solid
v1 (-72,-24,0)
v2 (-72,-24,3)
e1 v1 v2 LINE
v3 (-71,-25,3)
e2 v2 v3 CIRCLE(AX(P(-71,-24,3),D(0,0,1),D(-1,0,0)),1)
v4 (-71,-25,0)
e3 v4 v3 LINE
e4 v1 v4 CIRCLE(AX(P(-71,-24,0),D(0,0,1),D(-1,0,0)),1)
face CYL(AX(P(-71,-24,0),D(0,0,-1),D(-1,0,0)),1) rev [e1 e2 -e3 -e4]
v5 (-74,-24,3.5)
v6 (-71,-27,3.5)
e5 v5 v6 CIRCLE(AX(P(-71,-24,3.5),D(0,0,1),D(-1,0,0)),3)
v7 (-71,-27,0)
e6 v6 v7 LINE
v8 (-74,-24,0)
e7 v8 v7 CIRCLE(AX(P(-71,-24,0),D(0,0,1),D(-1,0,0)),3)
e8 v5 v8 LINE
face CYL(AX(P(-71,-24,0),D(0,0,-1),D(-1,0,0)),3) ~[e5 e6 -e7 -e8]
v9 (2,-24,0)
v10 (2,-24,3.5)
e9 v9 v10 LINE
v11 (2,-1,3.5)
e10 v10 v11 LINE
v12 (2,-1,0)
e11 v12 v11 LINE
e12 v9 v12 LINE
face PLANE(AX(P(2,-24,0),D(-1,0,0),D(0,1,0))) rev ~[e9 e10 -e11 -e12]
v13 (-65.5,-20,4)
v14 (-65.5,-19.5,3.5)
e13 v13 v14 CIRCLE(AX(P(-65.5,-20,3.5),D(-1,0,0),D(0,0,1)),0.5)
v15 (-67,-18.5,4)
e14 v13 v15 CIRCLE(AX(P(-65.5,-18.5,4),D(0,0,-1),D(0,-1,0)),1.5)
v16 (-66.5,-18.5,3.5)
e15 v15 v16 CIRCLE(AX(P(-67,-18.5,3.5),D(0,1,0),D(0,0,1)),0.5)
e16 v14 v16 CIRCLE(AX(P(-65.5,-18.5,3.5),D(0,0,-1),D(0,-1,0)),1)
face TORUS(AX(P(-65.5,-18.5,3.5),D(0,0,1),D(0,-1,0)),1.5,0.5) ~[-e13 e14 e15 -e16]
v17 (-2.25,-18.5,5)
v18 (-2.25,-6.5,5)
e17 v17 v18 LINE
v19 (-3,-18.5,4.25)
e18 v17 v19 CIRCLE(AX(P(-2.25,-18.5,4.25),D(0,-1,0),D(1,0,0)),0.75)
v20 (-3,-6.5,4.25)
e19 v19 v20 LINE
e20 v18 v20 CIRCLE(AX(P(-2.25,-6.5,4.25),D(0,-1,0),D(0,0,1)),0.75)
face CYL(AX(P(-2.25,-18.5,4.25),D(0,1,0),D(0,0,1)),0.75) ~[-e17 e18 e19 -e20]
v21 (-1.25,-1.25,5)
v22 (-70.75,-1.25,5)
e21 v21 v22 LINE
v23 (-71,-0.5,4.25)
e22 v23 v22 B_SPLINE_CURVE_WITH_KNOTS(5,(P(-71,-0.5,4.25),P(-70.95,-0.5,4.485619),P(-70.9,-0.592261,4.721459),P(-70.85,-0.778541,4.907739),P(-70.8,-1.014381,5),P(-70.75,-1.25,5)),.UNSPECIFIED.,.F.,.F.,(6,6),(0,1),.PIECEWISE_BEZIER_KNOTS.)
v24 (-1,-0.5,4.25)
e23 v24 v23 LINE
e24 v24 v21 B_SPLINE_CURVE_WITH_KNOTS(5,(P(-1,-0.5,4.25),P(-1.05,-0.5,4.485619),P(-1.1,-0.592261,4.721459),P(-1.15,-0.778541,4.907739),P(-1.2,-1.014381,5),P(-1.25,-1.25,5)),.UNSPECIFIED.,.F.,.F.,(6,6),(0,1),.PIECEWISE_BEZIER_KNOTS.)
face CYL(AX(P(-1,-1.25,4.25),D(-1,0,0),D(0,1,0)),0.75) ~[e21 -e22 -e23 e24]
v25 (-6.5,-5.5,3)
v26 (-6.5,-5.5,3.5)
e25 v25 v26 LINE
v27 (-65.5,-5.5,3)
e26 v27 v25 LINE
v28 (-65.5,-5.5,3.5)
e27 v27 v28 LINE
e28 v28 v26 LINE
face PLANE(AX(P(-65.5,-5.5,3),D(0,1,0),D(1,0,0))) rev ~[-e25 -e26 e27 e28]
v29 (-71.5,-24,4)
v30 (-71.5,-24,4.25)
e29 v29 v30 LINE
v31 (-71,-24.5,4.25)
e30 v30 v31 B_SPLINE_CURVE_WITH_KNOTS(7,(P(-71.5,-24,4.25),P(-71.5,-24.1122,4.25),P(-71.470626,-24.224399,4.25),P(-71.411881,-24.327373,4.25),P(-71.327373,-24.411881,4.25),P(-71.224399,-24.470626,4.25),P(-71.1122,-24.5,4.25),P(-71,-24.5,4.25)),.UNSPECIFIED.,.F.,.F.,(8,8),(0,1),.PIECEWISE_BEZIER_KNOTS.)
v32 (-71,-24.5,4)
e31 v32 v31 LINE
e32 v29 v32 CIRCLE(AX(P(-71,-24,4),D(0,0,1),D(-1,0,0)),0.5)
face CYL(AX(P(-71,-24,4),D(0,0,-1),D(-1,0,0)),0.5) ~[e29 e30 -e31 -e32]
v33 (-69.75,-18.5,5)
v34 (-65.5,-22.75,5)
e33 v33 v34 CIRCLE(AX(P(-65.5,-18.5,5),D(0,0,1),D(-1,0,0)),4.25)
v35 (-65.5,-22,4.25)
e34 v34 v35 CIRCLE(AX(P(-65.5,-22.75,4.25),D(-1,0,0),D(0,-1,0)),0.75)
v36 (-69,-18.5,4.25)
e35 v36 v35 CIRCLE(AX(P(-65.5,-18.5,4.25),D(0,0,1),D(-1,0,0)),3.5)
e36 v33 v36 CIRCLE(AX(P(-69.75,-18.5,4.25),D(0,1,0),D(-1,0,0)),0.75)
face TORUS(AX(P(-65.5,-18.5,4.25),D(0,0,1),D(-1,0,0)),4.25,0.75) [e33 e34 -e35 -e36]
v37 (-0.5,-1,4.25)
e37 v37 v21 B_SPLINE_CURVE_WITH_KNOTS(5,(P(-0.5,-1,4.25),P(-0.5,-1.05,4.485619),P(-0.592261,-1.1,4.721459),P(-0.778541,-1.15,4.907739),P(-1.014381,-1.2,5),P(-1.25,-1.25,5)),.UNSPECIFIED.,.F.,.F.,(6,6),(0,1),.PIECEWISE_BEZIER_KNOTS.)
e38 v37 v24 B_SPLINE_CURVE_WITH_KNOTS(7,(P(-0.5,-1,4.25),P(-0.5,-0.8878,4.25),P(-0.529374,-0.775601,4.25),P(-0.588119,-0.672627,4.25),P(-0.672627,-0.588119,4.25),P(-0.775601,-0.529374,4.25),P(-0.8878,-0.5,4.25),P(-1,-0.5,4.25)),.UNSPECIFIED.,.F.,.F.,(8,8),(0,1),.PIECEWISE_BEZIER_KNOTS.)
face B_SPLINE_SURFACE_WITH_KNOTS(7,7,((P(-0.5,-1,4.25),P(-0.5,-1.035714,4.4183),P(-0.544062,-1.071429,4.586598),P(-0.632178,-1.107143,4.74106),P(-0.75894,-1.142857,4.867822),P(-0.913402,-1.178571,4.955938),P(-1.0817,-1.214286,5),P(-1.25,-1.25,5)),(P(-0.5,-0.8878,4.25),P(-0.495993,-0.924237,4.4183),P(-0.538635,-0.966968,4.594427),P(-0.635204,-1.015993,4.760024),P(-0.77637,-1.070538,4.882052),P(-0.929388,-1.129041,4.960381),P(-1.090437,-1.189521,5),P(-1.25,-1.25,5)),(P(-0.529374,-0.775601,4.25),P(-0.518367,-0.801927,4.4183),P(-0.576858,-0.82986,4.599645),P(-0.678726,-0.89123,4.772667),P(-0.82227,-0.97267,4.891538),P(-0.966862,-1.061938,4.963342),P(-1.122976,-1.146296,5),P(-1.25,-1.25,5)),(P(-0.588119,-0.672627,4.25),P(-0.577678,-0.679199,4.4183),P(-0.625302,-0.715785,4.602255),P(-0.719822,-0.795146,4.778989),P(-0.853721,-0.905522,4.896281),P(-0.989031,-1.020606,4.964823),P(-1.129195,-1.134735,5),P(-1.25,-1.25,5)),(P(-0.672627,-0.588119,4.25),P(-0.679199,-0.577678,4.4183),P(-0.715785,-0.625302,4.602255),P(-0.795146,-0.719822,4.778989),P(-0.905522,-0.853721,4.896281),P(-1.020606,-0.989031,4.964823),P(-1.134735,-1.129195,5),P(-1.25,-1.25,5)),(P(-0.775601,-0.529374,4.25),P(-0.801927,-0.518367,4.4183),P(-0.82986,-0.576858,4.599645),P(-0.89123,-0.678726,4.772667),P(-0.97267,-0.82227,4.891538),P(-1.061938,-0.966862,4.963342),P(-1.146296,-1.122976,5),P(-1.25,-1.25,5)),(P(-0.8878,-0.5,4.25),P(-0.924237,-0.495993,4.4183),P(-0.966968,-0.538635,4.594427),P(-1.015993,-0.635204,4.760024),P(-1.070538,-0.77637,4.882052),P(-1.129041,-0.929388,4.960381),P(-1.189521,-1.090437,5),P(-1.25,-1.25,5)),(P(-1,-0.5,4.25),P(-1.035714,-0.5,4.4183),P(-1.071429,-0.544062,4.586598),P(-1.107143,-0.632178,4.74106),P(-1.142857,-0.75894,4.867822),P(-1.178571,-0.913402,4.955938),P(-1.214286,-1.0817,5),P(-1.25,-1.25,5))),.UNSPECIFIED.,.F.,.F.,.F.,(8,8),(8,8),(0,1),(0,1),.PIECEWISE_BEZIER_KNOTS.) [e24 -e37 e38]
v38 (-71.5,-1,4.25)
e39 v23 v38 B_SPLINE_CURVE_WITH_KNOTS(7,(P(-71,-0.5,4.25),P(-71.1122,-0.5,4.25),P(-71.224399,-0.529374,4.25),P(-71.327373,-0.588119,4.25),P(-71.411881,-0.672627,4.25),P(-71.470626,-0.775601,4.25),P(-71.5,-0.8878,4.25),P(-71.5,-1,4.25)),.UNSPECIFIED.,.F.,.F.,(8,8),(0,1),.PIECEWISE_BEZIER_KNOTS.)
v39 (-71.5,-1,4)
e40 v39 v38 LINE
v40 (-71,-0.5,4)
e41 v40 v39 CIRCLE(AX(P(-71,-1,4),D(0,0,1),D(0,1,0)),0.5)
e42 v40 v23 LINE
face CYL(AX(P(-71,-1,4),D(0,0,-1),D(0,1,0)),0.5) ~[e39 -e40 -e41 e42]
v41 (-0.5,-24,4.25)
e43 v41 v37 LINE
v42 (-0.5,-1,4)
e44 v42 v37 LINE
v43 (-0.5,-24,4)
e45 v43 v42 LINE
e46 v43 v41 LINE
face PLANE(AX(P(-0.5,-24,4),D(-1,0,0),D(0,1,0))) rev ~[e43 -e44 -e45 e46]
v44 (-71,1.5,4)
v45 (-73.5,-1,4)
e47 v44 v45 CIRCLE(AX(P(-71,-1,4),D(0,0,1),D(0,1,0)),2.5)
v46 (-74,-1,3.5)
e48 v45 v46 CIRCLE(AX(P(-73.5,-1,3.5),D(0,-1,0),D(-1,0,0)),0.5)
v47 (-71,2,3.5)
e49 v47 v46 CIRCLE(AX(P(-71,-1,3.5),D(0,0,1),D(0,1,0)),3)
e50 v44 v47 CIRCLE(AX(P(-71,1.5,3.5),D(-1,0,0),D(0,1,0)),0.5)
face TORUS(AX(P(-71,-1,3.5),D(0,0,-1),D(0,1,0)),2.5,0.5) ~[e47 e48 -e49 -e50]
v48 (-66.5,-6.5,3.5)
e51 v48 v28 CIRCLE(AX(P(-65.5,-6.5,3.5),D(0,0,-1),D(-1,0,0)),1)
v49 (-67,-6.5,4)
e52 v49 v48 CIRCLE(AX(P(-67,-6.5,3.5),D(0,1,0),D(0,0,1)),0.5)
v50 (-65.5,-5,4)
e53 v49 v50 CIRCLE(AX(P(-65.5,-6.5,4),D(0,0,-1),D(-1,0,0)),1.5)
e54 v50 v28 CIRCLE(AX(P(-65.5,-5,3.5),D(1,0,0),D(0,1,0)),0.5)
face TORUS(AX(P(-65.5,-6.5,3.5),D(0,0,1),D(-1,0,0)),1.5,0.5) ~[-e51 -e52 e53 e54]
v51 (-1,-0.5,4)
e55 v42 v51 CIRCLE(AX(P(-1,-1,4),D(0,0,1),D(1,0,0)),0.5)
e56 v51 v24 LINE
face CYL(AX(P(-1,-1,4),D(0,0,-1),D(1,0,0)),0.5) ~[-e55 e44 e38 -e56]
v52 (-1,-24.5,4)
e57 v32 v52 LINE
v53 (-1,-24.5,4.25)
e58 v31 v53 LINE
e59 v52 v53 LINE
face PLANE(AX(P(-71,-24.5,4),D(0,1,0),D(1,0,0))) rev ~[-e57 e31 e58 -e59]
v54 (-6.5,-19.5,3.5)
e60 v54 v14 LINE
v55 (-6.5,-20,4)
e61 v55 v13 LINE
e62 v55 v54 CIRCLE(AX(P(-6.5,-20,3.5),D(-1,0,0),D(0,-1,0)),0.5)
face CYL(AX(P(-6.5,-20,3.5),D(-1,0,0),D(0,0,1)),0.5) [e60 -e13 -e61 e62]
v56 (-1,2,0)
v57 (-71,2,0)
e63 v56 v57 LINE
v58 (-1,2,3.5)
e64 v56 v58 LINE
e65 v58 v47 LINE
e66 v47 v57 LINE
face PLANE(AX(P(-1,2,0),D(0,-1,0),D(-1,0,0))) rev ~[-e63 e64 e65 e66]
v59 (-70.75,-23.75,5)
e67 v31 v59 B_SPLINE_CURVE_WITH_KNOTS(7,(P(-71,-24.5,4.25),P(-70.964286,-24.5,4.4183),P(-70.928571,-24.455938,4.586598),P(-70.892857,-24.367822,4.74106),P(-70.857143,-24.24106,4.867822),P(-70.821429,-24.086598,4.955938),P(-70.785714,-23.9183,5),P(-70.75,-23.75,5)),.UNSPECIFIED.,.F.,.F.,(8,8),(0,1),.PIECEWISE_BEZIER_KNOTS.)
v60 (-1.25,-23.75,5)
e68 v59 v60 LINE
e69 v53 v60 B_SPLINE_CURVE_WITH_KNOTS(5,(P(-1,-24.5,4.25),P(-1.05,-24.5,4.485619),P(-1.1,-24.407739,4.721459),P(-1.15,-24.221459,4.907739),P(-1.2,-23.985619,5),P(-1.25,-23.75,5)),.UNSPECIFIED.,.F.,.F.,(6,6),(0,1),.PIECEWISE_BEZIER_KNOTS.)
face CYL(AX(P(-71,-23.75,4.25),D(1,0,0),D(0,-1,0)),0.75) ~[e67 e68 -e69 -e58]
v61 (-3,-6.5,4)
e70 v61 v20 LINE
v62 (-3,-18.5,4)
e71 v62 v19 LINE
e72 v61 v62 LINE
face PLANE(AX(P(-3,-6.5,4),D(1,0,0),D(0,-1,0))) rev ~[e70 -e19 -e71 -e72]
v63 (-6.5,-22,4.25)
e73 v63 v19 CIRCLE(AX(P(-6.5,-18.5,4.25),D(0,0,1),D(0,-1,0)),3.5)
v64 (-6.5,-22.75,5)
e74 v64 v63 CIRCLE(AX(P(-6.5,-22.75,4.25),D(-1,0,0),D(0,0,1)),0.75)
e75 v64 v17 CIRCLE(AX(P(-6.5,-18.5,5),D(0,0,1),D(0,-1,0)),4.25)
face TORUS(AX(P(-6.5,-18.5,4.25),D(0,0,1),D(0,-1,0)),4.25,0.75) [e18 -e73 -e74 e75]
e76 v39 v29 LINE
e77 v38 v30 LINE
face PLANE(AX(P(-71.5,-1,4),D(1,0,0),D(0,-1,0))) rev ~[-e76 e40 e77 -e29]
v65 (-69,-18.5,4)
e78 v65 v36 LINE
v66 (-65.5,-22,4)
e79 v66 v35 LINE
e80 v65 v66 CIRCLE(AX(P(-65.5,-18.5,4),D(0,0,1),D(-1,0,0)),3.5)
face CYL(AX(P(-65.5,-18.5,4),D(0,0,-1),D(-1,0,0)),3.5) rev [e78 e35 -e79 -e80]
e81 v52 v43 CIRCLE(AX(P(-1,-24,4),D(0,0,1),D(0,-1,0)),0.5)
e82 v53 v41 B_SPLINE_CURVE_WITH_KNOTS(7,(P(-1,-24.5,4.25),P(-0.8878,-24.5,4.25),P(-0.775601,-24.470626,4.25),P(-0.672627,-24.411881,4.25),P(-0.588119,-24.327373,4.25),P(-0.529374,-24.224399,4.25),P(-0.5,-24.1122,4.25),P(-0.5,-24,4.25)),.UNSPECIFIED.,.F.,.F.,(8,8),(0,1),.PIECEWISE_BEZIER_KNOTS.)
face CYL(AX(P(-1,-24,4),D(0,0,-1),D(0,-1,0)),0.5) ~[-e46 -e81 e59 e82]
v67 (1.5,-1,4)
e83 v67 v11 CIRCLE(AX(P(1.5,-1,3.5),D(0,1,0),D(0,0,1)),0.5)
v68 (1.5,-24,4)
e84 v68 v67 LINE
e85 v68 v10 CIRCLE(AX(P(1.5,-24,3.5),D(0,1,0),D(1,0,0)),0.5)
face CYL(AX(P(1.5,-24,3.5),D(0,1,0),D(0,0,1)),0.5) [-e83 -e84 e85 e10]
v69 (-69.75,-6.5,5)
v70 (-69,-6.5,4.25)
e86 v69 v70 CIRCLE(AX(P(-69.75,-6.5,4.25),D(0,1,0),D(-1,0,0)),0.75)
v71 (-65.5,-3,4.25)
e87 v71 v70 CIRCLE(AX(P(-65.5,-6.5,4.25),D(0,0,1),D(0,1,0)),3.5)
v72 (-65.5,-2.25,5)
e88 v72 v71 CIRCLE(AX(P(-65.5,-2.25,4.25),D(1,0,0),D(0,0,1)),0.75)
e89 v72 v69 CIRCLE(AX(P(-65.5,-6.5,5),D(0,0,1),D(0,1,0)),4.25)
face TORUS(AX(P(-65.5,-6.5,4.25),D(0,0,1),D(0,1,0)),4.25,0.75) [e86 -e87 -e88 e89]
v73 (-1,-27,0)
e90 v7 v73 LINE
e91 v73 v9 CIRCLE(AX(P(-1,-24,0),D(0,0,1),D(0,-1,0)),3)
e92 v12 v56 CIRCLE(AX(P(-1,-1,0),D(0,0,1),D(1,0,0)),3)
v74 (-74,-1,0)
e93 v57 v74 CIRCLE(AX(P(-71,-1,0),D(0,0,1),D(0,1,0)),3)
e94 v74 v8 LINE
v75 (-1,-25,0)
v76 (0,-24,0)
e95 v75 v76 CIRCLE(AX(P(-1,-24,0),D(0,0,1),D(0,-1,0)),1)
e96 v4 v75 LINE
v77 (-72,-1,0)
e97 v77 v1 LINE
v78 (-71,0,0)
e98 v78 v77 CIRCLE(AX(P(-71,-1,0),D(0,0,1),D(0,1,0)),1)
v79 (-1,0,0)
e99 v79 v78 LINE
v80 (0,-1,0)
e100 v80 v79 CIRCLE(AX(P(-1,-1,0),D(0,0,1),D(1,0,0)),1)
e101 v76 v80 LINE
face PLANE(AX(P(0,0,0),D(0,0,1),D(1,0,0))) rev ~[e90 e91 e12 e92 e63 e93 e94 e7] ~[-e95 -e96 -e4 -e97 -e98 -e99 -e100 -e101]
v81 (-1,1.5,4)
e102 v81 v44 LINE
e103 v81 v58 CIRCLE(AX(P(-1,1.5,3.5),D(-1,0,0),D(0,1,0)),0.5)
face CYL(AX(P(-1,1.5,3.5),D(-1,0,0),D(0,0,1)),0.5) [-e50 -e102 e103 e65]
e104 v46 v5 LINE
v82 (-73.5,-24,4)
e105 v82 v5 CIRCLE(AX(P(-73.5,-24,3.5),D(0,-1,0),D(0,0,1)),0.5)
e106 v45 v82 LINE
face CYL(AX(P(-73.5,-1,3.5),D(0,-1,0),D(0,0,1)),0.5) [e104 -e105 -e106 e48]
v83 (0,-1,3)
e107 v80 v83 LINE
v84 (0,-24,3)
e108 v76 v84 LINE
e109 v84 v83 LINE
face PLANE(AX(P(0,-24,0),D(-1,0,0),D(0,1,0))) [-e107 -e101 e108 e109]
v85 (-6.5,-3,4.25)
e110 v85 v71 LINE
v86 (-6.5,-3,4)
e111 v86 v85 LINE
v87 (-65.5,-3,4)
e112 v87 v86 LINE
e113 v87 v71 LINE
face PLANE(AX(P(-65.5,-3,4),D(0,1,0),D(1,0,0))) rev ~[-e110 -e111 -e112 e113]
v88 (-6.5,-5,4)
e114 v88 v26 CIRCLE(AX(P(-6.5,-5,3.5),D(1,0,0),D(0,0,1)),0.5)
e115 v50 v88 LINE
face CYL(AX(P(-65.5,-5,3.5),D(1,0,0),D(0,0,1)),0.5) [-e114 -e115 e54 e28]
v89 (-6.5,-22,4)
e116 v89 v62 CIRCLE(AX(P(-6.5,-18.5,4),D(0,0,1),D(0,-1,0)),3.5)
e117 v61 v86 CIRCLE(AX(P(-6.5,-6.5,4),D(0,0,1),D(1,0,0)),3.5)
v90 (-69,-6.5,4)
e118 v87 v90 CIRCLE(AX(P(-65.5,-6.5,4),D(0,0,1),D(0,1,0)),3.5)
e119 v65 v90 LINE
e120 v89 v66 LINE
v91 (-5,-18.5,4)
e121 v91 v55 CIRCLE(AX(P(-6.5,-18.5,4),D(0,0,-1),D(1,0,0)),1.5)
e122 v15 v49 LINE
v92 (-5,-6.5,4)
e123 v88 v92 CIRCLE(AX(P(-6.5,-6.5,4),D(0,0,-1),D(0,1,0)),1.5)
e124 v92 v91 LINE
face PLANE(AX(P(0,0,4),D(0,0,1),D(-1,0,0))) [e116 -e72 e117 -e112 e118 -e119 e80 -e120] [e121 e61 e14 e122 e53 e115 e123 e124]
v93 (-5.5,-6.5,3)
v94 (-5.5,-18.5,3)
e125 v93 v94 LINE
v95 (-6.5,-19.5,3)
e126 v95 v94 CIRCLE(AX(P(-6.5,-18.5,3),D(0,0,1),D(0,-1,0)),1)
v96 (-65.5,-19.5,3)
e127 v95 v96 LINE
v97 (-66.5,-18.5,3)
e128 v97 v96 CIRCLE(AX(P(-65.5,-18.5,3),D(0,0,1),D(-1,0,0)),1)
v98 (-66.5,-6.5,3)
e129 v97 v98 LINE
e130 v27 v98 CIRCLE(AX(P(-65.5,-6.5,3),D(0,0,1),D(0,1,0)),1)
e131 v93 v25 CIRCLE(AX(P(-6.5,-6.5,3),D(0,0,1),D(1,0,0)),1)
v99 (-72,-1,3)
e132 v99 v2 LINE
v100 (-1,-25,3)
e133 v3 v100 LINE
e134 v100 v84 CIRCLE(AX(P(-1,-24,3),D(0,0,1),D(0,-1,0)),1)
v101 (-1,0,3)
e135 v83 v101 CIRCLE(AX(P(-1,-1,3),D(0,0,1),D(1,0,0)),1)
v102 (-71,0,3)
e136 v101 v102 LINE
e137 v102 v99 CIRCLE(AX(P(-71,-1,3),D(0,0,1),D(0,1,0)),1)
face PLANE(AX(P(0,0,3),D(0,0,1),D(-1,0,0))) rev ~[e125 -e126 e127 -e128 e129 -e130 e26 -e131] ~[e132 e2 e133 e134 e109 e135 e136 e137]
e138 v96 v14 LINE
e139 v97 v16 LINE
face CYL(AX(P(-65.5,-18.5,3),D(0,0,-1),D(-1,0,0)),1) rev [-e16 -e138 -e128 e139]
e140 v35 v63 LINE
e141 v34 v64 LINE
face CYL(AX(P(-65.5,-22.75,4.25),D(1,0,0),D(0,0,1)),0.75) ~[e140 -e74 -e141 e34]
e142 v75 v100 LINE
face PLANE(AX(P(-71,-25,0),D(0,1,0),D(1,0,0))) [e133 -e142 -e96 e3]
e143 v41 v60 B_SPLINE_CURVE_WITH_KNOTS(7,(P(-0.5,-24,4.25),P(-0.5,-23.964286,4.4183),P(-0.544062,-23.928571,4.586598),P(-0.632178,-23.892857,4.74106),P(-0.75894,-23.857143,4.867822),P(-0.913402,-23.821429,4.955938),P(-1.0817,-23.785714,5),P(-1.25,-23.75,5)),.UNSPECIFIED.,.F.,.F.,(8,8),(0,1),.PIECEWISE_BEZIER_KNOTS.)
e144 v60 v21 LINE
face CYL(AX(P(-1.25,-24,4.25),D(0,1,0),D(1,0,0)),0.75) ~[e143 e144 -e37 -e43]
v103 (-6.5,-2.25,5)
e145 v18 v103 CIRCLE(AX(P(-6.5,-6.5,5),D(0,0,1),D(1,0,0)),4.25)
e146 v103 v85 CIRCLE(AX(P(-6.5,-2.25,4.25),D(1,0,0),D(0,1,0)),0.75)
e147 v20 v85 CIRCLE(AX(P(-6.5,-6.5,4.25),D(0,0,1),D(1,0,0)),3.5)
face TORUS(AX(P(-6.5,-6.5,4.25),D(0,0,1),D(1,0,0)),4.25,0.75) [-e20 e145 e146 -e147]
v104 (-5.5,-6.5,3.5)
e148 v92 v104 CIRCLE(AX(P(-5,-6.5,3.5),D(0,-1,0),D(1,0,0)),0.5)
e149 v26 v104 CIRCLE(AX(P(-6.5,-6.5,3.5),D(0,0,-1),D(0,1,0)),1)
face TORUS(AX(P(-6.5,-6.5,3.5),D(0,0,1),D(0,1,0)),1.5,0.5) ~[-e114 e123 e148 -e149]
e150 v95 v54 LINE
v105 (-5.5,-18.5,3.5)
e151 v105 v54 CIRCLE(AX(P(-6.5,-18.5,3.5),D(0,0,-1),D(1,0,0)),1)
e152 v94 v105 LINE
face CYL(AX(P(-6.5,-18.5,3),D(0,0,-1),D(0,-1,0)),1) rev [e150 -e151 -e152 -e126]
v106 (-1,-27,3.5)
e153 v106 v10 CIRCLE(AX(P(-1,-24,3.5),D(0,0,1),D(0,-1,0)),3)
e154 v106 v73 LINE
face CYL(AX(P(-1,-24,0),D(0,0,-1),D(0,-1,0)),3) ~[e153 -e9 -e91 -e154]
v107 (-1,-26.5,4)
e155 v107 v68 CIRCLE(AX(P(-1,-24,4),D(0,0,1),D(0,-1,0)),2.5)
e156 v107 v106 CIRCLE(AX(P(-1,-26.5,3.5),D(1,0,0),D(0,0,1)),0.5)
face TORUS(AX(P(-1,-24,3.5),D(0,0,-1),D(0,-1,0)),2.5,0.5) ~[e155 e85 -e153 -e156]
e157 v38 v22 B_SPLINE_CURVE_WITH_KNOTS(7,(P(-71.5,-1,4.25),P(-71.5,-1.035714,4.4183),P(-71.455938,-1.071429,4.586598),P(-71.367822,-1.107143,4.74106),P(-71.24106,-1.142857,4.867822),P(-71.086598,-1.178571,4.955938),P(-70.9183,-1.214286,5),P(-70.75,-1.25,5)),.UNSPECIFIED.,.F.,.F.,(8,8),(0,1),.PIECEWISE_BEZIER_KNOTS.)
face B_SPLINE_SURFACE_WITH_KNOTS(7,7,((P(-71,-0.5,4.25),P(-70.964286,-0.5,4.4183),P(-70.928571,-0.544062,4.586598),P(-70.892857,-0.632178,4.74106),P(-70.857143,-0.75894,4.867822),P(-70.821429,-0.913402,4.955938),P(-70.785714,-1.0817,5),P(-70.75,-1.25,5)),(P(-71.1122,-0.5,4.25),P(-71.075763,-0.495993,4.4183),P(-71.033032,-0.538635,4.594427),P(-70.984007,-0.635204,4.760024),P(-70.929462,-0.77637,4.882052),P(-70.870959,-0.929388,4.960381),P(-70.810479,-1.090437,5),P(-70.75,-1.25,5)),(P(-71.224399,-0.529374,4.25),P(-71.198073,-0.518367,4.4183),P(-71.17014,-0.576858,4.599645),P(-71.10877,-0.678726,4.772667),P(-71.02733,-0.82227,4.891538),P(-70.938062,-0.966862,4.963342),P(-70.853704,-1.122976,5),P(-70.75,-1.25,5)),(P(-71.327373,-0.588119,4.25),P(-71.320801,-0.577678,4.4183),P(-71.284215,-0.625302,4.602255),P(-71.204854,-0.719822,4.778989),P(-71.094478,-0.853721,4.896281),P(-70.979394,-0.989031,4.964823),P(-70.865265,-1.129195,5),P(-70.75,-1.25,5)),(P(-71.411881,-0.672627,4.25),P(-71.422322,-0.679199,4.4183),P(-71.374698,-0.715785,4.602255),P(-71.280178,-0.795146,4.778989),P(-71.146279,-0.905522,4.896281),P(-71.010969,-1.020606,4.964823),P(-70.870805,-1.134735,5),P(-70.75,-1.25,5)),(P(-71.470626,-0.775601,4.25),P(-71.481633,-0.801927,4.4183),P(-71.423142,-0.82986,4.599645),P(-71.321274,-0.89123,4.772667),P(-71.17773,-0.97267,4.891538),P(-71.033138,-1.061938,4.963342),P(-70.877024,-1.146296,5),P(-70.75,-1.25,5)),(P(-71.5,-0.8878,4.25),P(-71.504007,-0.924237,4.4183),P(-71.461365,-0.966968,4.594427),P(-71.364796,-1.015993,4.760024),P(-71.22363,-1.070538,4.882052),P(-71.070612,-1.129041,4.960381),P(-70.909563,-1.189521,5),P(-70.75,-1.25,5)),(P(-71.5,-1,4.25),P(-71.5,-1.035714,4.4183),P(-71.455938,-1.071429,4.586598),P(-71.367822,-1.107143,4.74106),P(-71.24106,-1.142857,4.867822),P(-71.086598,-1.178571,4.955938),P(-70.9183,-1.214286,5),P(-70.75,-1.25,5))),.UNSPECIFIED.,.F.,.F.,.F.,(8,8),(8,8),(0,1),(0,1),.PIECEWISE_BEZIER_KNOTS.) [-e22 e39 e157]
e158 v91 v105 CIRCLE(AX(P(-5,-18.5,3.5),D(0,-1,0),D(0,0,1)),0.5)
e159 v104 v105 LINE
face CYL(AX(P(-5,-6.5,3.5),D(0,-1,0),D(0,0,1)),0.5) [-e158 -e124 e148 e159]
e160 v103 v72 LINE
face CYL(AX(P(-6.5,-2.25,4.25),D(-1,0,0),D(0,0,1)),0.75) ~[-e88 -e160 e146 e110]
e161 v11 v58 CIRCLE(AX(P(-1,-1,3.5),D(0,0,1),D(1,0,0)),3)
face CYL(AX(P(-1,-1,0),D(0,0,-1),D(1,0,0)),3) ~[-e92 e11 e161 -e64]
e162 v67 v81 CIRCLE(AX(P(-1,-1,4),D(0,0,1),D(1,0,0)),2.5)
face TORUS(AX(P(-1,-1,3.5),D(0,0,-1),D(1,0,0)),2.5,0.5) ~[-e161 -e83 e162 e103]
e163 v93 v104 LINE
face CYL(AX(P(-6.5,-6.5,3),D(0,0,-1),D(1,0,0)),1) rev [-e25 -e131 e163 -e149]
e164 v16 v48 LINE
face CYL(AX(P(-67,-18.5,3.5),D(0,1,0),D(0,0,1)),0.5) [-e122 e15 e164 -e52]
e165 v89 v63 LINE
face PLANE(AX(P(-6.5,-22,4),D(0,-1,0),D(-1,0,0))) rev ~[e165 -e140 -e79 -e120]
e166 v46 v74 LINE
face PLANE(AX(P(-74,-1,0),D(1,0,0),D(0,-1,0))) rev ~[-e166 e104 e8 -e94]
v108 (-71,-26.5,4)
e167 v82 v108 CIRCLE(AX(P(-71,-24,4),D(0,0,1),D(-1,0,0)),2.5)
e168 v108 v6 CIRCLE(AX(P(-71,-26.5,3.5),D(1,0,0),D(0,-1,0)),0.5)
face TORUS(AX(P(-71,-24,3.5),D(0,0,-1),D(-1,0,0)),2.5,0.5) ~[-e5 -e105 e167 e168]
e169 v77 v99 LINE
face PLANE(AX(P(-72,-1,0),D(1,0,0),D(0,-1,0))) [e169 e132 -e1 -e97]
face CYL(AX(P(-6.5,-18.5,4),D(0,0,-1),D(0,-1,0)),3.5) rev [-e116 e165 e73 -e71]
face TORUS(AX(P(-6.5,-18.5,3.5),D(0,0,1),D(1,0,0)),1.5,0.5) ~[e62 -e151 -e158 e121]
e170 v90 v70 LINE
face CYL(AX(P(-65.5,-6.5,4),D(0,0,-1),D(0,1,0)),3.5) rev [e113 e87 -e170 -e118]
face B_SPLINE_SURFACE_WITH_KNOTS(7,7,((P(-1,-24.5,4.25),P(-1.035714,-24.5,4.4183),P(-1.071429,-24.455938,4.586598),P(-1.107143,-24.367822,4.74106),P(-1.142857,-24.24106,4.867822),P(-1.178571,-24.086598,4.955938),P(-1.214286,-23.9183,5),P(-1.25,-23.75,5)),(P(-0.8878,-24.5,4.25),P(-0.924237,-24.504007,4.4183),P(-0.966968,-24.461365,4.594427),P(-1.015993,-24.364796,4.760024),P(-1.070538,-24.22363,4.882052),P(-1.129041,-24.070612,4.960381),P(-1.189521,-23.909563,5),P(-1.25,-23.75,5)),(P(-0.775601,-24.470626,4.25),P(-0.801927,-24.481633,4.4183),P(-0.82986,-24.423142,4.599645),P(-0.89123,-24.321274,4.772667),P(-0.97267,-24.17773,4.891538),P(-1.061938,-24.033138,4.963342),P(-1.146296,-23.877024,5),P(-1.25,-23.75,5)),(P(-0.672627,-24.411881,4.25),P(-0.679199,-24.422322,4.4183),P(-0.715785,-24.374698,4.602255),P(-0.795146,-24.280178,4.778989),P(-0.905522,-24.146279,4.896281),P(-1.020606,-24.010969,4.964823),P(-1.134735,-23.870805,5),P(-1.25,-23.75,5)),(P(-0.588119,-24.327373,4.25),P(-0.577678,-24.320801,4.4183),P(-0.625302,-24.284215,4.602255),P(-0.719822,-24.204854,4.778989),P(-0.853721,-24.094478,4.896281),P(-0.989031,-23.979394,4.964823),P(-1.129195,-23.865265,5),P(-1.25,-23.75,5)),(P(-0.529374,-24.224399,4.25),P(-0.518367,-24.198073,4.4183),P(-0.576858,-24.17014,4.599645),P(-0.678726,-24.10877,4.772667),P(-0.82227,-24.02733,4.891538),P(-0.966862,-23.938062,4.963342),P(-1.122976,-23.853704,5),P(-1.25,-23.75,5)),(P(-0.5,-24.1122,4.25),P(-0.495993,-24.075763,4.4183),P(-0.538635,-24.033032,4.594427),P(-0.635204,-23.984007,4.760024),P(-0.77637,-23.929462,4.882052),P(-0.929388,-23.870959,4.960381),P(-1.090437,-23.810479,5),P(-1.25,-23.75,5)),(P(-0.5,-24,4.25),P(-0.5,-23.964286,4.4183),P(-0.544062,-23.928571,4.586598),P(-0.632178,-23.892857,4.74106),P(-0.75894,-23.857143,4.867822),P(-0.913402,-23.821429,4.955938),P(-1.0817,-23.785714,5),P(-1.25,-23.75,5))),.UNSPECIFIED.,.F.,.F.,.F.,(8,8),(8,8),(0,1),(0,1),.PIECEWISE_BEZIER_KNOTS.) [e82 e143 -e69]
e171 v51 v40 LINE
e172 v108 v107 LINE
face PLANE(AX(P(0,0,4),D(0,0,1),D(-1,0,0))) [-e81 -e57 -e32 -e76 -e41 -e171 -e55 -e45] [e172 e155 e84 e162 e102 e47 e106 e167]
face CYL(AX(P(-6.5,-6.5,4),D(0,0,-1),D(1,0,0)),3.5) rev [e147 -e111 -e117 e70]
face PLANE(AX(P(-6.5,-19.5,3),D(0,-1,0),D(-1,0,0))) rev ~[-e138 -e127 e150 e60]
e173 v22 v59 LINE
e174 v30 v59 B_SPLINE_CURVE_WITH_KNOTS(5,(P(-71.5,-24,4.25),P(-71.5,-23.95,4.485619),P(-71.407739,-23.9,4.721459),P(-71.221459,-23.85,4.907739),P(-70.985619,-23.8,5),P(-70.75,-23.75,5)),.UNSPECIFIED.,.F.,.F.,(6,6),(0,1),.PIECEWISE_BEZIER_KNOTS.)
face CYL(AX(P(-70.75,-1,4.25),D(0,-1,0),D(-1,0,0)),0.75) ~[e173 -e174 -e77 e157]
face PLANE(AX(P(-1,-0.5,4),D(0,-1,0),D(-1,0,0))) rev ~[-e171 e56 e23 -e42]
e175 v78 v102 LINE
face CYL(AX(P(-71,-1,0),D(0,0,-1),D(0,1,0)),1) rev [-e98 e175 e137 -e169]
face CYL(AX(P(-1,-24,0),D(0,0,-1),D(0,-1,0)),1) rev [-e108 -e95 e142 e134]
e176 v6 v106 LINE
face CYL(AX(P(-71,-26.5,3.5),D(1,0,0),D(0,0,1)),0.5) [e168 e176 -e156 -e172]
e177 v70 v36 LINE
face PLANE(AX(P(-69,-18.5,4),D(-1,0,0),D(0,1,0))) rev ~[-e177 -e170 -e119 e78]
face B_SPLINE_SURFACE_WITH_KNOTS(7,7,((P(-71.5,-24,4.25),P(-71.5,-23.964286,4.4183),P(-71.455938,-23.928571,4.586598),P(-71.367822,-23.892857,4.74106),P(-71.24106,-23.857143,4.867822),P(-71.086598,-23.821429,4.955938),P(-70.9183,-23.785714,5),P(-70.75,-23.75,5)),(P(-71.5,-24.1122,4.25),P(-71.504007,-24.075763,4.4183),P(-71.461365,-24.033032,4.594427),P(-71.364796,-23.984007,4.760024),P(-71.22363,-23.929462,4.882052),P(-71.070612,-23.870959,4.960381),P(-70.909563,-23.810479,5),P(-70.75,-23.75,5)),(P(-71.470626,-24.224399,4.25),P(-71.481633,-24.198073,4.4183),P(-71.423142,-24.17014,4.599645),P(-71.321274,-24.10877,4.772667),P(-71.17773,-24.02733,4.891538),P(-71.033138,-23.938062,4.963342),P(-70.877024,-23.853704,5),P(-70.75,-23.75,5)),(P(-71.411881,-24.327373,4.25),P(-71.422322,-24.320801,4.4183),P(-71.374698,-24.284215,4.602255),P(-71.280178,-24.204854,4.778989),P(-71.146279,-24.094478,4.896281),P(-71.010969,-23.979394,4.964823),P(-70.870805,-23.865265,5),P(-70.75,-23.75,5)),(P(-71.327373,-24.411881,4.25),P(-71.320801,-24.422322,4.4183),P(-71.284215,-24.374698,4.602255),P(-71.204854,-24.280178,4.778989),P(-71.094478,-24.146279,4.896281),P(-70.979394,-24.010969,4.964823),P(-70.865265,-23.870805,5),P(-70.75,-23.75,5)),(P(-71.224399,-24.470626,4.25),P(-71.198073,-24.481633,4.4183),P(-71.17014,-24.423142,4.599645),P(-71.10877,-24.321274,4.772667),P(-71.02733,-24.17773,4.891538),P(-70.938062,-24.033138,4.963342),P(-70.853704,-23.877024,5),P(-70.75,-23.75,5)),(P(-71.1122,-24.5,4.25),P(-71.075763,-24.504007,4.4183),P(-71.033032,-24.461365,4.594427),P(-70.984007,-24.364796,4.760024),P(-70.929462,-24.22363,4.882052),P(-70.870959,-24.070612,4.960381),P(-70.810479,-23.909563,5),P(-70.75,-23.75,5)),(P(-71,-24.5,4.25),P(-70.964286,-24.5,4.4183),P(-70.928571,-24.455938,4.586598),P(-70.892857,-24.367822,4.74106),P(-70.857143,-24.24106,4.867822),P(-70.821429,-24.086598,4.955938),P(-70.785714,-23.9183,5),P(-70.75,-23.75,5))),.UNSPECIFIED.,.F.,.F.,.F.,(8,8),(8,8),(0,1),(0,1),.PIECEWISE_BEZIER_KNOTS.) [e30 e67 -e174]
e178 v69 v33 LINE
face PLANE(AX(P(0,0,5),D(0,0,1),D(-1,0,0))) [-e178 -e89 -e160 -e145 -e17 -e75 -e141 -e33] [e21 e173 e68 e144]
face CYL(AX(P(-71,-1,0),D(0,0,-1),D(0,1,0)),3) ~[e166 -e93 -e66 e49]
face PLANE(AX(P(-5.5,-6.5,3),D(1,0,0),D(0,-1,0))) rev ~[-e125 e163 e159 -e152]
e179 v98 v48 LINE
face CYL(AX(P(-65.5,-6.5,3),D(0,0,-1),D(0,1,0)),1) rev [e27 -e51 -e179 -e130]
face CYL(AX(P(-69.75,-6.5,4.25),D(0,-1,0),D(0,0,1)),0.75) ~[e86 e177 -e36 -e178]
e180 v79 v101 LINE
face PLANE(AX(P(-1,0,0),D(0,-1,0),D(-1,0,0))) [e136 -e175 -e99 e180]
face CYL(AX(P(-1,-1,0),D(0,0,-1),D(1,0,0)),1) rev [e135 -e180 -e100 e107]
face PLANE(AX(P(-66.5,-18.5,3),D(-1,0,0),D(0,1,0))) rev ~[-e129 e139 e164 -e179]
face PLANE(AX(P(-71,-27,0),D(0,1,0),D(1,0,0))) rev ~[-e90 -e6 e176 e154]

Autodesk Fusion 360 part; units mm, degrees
sketch "Sketch1" plane through (0, 0, 0) normal (0, 0, 1) x (1, 0, 0)
  line L0 (-1, 0) -> (-71, 0)
  line L1 (-72, -1) -> (-72, -24)
  line L2 (-71, -25) -> (-1, -25)
  line L3 (0, -24) -> (0, -1)
  arc A0 (-1, -25) -> (0, -24) centre (-1, -24) ccw
  arc A1 (-72, -24) -> (-71, -25) centre (-71, -24) ccw
  arc A2 (-71, 0) -> (-72, -1) centre (-71, -1) ccw
  arc A3 (0, -1) -> (-1, 0) centre (-1, -1) ccw
  line L4 (2, -24) -> (2, -1)
  arc A4 (2, -1) -> (-1, 2) centre (-1, -1) ccw
  line L5 (-1, 2) -> (-71, 2)
  arc A5 (-71, 2) -> (-74, -1) centre (-71, -1) ccw
  line L6 (-74, -1) -> (-74, -24)
  arc A6 (-74, -24) -> (-71, -27) centre (-71, -24) ccw
  line L7 (-71, -27) -> (-1, -27)
  arc A7 (-1, -27) -> (2, -24) centre (-1, -24) ccw
  point P0 (-72, 0)
  point P1 (0, -25)
  dimension "d1" = 72
  dimension "d2" = 25
  dimension "d3" = 1
  dimension "d4" = 2
extrude "Extrude1" add sketch "Sketch1" along normal blind 3
sketch "Sketch2" plane through (0, 0, 3) normal (0, 0, 1) x (-1, 0, 0)
  arc A0 (0, 1) -> (1, 0) centre (1, 1) ccw
  line L0 (0, 1) -> (0, 24)
  arc A1 (1, 25) -> (0, 24) centre (1, 24) ccw
  line L1 (1, 25) -> (71, 25)
  arc A2 (72, 24) -> (71, 25) centre (71, 24) ccw
  line L2 (72, 24) -> (72, 1)
  arc A3 (71, 0) -> (72, 1) centre (71, 1) ccw
  line L3 (71, 0) -> (1, 0)
  arc A4 (1, 27) -> (-2, 24) centre (1, 24) ccw
  line L4 (-2, 24) -> (-2, 1)
  arc A5 (-2, 1) -> (1, -2) centre (1, 1) ccw
  line L5 (1, -2) -> (71, -2)
  arc A6 (71, -2) -> (74, 1) centre (71, 1) ccw
  line L6 (74, 1) -> (74, 24)
  arc A7 (74, 24) -> (71, 27) centre (71, 24) ccw
  line L7 (71, 27) -> (1, 27)
  line L8 (71, 27) -> (1, 27)
  line L9 (6.5, 19.5) -> (65.5, 19.5)
  line L10 (5.5, 6.5) -> (5.5, 18.5)
  line L11 (65.5, 5.5) -> (6.5, 5.5)
  line L12 (66.5, 18.5) -> (66.5, 6.5)
  arc A8 (6.5, 19.5) -> (5.5, 18.5) centre (6.5, 18.5) ccw
  arc A9 (66.5, 18.5) -> (65.5, 19.5) centre (65.5, 18.5) ccw
  arc A10 (65.5, 5.5) -> (66.5, 6.5) centre (65.5, 6.5) ccw
  arc A11 (5.5, 6.5) -> (6.5, 5.5) centre (6.5, 6.5) ccw
  dimension "d8" = 1
extrude "Extrude2" add sketch "Sketch2" along normal blind 1 contours A0 L0 A1 L1 A2 L2 A3 L3 | A4 L4 A5 L5 A6 L6 A7 L7 L8
fillet "Fillet1" radius 0.5 8 edges at (-66.5, -12.5, 4) (-66.2071, -5.7929, 4) (-36, -5.5, 4) (-5.7929, -5.7929, 4) (-5.5, -12.5, 4) (-5.7929, -19.2071, 4) (-36, -19.5, 4) (-66.2071, -19.2071, 4)
fillet "Fillet2" radius 0.5 8 edges at (-73.1213, 1.1213, 4) (-74, -12.5, 4) (-73.1213, -26.1213, 4) (-36, -27, 4) (1.1213, -26.1213, 4) (2, -12.5, 4) (1.1213, 1.1213, 4) (-36, 2, 4)
sketch "Sketch3" plane through (0, 0, 4) normal (0, 0, 1) x (-1, 0, 0)
  line L0 (67, 18.5) -> (67, 6.5)
  arc A0 (65.5, 5) -> (67, 6.5) centre (65.5, 6.5) ccw
  line L1 (65.5, 5) -> (6.5, 5)
  arc A1 (5, 6.5) -> (6.5, 5) centre (6.5, 6.5) ccw
  line L2 (5, 6.5) -> (5, 18.5)
  arc A2 (6.5, 20) -> (5, 18.5) centre (6.5, 18.5) ccw
  line L3 (6.5, 20) -> (65.5, 20)
  arc A3 (67, 18.5) -> (65.5, 20) centre (65.5, 18.5) ccw
  arc A4 (71, -1.5) -> (73.5, 1) centre (71, 1) ccw
  line L4 (73.5, 1) -> (73.5, 24)
  arc A5 (73.5, 24) -> (71, 26.5) centre (71, 24) ccw
  line L5 (71, 26.5) -> (1, 26.5)
  arc A6 (1, 26.5) -> (-1.5, 24) centre (1, 24) ccw
  line L6 (-1.5, 24) -> (-1.5, 1)
  arc A7 (-1.5, 1) -> (1, -1.5) centre (1, 1) ccw
  line L7 (1, -1.5) -> (71, -1.5)
  line L8 (0.5, 24) -> (0.5, 1)
  arc A8 (0.5, 1) -> (1, 0.5) centre (1, 1) ccw
  line L9 (1, 0.5) -> (71, 0.5)
  arc A9 (71, 0.5) -> (71.5, 1) centre (71, 1) ccw
  line L10 (71.5, 1) -> (71.5, 24)
  arc A10 (71.5, 24) -> (71, 24.5) centre (71, 24) ccw
  line L11 (71, 24.5) -> (1, 24.5)
  arc A11 (1, 24.5) -> (0.5, 24) centre (1, 24) ccw
  arc A12 (3, 6.5) -> (6.5, 3) centre (6.5, 6.5) ccw
  line L12 (65.5, 3) -> (6.5, 3)
  arc A13 (65.5, 3) -> (69, 6.5) centre (65.5, 6.5) ccw
  line L13 (69, 18.5) -> (69, 6.5)
  arc A14 (69, 18.5) -> (65.5, 22) centre (65.5, 18.5) ccw
  line L14 (6.5, 22) -> (65.5, 22)
  arc A15 (6.5, 22) -> (3, 18.5) centre (6.5, 18.5) ccw
  line L15 (3, 6.5) -> (3, 18.5)
  dimension "d15" = -2
  dimension "d16" = -2
extrude "Extrude3" add sketch "Sketch3" along normal blind 1 contours L8 A8 L9 A9 L10 A10 L11 A11
fillet "Fillet3" radius 0.75 16 edges at (-67.9749, -20.9749, 5) (-69, -12.5, 5) (-67.9749, -4.0251, 5) (-36, -3, 5) (-4.0251, -4.0251, 5) (-3, -12.5, 5) (-4.0251, -20.9749, 5) (-36, -22, 5) (-36, -0.5, 5) (-71.3536, -0.6464, 5) (-71.5, -12.5, 5) (-71.3536, -24.3536, 5) (-36, -24.5, 5) (-0.6464, -24.3536, 5) (-0.5, -12.5, 5) (-0.6464, -0.6464, 5)
